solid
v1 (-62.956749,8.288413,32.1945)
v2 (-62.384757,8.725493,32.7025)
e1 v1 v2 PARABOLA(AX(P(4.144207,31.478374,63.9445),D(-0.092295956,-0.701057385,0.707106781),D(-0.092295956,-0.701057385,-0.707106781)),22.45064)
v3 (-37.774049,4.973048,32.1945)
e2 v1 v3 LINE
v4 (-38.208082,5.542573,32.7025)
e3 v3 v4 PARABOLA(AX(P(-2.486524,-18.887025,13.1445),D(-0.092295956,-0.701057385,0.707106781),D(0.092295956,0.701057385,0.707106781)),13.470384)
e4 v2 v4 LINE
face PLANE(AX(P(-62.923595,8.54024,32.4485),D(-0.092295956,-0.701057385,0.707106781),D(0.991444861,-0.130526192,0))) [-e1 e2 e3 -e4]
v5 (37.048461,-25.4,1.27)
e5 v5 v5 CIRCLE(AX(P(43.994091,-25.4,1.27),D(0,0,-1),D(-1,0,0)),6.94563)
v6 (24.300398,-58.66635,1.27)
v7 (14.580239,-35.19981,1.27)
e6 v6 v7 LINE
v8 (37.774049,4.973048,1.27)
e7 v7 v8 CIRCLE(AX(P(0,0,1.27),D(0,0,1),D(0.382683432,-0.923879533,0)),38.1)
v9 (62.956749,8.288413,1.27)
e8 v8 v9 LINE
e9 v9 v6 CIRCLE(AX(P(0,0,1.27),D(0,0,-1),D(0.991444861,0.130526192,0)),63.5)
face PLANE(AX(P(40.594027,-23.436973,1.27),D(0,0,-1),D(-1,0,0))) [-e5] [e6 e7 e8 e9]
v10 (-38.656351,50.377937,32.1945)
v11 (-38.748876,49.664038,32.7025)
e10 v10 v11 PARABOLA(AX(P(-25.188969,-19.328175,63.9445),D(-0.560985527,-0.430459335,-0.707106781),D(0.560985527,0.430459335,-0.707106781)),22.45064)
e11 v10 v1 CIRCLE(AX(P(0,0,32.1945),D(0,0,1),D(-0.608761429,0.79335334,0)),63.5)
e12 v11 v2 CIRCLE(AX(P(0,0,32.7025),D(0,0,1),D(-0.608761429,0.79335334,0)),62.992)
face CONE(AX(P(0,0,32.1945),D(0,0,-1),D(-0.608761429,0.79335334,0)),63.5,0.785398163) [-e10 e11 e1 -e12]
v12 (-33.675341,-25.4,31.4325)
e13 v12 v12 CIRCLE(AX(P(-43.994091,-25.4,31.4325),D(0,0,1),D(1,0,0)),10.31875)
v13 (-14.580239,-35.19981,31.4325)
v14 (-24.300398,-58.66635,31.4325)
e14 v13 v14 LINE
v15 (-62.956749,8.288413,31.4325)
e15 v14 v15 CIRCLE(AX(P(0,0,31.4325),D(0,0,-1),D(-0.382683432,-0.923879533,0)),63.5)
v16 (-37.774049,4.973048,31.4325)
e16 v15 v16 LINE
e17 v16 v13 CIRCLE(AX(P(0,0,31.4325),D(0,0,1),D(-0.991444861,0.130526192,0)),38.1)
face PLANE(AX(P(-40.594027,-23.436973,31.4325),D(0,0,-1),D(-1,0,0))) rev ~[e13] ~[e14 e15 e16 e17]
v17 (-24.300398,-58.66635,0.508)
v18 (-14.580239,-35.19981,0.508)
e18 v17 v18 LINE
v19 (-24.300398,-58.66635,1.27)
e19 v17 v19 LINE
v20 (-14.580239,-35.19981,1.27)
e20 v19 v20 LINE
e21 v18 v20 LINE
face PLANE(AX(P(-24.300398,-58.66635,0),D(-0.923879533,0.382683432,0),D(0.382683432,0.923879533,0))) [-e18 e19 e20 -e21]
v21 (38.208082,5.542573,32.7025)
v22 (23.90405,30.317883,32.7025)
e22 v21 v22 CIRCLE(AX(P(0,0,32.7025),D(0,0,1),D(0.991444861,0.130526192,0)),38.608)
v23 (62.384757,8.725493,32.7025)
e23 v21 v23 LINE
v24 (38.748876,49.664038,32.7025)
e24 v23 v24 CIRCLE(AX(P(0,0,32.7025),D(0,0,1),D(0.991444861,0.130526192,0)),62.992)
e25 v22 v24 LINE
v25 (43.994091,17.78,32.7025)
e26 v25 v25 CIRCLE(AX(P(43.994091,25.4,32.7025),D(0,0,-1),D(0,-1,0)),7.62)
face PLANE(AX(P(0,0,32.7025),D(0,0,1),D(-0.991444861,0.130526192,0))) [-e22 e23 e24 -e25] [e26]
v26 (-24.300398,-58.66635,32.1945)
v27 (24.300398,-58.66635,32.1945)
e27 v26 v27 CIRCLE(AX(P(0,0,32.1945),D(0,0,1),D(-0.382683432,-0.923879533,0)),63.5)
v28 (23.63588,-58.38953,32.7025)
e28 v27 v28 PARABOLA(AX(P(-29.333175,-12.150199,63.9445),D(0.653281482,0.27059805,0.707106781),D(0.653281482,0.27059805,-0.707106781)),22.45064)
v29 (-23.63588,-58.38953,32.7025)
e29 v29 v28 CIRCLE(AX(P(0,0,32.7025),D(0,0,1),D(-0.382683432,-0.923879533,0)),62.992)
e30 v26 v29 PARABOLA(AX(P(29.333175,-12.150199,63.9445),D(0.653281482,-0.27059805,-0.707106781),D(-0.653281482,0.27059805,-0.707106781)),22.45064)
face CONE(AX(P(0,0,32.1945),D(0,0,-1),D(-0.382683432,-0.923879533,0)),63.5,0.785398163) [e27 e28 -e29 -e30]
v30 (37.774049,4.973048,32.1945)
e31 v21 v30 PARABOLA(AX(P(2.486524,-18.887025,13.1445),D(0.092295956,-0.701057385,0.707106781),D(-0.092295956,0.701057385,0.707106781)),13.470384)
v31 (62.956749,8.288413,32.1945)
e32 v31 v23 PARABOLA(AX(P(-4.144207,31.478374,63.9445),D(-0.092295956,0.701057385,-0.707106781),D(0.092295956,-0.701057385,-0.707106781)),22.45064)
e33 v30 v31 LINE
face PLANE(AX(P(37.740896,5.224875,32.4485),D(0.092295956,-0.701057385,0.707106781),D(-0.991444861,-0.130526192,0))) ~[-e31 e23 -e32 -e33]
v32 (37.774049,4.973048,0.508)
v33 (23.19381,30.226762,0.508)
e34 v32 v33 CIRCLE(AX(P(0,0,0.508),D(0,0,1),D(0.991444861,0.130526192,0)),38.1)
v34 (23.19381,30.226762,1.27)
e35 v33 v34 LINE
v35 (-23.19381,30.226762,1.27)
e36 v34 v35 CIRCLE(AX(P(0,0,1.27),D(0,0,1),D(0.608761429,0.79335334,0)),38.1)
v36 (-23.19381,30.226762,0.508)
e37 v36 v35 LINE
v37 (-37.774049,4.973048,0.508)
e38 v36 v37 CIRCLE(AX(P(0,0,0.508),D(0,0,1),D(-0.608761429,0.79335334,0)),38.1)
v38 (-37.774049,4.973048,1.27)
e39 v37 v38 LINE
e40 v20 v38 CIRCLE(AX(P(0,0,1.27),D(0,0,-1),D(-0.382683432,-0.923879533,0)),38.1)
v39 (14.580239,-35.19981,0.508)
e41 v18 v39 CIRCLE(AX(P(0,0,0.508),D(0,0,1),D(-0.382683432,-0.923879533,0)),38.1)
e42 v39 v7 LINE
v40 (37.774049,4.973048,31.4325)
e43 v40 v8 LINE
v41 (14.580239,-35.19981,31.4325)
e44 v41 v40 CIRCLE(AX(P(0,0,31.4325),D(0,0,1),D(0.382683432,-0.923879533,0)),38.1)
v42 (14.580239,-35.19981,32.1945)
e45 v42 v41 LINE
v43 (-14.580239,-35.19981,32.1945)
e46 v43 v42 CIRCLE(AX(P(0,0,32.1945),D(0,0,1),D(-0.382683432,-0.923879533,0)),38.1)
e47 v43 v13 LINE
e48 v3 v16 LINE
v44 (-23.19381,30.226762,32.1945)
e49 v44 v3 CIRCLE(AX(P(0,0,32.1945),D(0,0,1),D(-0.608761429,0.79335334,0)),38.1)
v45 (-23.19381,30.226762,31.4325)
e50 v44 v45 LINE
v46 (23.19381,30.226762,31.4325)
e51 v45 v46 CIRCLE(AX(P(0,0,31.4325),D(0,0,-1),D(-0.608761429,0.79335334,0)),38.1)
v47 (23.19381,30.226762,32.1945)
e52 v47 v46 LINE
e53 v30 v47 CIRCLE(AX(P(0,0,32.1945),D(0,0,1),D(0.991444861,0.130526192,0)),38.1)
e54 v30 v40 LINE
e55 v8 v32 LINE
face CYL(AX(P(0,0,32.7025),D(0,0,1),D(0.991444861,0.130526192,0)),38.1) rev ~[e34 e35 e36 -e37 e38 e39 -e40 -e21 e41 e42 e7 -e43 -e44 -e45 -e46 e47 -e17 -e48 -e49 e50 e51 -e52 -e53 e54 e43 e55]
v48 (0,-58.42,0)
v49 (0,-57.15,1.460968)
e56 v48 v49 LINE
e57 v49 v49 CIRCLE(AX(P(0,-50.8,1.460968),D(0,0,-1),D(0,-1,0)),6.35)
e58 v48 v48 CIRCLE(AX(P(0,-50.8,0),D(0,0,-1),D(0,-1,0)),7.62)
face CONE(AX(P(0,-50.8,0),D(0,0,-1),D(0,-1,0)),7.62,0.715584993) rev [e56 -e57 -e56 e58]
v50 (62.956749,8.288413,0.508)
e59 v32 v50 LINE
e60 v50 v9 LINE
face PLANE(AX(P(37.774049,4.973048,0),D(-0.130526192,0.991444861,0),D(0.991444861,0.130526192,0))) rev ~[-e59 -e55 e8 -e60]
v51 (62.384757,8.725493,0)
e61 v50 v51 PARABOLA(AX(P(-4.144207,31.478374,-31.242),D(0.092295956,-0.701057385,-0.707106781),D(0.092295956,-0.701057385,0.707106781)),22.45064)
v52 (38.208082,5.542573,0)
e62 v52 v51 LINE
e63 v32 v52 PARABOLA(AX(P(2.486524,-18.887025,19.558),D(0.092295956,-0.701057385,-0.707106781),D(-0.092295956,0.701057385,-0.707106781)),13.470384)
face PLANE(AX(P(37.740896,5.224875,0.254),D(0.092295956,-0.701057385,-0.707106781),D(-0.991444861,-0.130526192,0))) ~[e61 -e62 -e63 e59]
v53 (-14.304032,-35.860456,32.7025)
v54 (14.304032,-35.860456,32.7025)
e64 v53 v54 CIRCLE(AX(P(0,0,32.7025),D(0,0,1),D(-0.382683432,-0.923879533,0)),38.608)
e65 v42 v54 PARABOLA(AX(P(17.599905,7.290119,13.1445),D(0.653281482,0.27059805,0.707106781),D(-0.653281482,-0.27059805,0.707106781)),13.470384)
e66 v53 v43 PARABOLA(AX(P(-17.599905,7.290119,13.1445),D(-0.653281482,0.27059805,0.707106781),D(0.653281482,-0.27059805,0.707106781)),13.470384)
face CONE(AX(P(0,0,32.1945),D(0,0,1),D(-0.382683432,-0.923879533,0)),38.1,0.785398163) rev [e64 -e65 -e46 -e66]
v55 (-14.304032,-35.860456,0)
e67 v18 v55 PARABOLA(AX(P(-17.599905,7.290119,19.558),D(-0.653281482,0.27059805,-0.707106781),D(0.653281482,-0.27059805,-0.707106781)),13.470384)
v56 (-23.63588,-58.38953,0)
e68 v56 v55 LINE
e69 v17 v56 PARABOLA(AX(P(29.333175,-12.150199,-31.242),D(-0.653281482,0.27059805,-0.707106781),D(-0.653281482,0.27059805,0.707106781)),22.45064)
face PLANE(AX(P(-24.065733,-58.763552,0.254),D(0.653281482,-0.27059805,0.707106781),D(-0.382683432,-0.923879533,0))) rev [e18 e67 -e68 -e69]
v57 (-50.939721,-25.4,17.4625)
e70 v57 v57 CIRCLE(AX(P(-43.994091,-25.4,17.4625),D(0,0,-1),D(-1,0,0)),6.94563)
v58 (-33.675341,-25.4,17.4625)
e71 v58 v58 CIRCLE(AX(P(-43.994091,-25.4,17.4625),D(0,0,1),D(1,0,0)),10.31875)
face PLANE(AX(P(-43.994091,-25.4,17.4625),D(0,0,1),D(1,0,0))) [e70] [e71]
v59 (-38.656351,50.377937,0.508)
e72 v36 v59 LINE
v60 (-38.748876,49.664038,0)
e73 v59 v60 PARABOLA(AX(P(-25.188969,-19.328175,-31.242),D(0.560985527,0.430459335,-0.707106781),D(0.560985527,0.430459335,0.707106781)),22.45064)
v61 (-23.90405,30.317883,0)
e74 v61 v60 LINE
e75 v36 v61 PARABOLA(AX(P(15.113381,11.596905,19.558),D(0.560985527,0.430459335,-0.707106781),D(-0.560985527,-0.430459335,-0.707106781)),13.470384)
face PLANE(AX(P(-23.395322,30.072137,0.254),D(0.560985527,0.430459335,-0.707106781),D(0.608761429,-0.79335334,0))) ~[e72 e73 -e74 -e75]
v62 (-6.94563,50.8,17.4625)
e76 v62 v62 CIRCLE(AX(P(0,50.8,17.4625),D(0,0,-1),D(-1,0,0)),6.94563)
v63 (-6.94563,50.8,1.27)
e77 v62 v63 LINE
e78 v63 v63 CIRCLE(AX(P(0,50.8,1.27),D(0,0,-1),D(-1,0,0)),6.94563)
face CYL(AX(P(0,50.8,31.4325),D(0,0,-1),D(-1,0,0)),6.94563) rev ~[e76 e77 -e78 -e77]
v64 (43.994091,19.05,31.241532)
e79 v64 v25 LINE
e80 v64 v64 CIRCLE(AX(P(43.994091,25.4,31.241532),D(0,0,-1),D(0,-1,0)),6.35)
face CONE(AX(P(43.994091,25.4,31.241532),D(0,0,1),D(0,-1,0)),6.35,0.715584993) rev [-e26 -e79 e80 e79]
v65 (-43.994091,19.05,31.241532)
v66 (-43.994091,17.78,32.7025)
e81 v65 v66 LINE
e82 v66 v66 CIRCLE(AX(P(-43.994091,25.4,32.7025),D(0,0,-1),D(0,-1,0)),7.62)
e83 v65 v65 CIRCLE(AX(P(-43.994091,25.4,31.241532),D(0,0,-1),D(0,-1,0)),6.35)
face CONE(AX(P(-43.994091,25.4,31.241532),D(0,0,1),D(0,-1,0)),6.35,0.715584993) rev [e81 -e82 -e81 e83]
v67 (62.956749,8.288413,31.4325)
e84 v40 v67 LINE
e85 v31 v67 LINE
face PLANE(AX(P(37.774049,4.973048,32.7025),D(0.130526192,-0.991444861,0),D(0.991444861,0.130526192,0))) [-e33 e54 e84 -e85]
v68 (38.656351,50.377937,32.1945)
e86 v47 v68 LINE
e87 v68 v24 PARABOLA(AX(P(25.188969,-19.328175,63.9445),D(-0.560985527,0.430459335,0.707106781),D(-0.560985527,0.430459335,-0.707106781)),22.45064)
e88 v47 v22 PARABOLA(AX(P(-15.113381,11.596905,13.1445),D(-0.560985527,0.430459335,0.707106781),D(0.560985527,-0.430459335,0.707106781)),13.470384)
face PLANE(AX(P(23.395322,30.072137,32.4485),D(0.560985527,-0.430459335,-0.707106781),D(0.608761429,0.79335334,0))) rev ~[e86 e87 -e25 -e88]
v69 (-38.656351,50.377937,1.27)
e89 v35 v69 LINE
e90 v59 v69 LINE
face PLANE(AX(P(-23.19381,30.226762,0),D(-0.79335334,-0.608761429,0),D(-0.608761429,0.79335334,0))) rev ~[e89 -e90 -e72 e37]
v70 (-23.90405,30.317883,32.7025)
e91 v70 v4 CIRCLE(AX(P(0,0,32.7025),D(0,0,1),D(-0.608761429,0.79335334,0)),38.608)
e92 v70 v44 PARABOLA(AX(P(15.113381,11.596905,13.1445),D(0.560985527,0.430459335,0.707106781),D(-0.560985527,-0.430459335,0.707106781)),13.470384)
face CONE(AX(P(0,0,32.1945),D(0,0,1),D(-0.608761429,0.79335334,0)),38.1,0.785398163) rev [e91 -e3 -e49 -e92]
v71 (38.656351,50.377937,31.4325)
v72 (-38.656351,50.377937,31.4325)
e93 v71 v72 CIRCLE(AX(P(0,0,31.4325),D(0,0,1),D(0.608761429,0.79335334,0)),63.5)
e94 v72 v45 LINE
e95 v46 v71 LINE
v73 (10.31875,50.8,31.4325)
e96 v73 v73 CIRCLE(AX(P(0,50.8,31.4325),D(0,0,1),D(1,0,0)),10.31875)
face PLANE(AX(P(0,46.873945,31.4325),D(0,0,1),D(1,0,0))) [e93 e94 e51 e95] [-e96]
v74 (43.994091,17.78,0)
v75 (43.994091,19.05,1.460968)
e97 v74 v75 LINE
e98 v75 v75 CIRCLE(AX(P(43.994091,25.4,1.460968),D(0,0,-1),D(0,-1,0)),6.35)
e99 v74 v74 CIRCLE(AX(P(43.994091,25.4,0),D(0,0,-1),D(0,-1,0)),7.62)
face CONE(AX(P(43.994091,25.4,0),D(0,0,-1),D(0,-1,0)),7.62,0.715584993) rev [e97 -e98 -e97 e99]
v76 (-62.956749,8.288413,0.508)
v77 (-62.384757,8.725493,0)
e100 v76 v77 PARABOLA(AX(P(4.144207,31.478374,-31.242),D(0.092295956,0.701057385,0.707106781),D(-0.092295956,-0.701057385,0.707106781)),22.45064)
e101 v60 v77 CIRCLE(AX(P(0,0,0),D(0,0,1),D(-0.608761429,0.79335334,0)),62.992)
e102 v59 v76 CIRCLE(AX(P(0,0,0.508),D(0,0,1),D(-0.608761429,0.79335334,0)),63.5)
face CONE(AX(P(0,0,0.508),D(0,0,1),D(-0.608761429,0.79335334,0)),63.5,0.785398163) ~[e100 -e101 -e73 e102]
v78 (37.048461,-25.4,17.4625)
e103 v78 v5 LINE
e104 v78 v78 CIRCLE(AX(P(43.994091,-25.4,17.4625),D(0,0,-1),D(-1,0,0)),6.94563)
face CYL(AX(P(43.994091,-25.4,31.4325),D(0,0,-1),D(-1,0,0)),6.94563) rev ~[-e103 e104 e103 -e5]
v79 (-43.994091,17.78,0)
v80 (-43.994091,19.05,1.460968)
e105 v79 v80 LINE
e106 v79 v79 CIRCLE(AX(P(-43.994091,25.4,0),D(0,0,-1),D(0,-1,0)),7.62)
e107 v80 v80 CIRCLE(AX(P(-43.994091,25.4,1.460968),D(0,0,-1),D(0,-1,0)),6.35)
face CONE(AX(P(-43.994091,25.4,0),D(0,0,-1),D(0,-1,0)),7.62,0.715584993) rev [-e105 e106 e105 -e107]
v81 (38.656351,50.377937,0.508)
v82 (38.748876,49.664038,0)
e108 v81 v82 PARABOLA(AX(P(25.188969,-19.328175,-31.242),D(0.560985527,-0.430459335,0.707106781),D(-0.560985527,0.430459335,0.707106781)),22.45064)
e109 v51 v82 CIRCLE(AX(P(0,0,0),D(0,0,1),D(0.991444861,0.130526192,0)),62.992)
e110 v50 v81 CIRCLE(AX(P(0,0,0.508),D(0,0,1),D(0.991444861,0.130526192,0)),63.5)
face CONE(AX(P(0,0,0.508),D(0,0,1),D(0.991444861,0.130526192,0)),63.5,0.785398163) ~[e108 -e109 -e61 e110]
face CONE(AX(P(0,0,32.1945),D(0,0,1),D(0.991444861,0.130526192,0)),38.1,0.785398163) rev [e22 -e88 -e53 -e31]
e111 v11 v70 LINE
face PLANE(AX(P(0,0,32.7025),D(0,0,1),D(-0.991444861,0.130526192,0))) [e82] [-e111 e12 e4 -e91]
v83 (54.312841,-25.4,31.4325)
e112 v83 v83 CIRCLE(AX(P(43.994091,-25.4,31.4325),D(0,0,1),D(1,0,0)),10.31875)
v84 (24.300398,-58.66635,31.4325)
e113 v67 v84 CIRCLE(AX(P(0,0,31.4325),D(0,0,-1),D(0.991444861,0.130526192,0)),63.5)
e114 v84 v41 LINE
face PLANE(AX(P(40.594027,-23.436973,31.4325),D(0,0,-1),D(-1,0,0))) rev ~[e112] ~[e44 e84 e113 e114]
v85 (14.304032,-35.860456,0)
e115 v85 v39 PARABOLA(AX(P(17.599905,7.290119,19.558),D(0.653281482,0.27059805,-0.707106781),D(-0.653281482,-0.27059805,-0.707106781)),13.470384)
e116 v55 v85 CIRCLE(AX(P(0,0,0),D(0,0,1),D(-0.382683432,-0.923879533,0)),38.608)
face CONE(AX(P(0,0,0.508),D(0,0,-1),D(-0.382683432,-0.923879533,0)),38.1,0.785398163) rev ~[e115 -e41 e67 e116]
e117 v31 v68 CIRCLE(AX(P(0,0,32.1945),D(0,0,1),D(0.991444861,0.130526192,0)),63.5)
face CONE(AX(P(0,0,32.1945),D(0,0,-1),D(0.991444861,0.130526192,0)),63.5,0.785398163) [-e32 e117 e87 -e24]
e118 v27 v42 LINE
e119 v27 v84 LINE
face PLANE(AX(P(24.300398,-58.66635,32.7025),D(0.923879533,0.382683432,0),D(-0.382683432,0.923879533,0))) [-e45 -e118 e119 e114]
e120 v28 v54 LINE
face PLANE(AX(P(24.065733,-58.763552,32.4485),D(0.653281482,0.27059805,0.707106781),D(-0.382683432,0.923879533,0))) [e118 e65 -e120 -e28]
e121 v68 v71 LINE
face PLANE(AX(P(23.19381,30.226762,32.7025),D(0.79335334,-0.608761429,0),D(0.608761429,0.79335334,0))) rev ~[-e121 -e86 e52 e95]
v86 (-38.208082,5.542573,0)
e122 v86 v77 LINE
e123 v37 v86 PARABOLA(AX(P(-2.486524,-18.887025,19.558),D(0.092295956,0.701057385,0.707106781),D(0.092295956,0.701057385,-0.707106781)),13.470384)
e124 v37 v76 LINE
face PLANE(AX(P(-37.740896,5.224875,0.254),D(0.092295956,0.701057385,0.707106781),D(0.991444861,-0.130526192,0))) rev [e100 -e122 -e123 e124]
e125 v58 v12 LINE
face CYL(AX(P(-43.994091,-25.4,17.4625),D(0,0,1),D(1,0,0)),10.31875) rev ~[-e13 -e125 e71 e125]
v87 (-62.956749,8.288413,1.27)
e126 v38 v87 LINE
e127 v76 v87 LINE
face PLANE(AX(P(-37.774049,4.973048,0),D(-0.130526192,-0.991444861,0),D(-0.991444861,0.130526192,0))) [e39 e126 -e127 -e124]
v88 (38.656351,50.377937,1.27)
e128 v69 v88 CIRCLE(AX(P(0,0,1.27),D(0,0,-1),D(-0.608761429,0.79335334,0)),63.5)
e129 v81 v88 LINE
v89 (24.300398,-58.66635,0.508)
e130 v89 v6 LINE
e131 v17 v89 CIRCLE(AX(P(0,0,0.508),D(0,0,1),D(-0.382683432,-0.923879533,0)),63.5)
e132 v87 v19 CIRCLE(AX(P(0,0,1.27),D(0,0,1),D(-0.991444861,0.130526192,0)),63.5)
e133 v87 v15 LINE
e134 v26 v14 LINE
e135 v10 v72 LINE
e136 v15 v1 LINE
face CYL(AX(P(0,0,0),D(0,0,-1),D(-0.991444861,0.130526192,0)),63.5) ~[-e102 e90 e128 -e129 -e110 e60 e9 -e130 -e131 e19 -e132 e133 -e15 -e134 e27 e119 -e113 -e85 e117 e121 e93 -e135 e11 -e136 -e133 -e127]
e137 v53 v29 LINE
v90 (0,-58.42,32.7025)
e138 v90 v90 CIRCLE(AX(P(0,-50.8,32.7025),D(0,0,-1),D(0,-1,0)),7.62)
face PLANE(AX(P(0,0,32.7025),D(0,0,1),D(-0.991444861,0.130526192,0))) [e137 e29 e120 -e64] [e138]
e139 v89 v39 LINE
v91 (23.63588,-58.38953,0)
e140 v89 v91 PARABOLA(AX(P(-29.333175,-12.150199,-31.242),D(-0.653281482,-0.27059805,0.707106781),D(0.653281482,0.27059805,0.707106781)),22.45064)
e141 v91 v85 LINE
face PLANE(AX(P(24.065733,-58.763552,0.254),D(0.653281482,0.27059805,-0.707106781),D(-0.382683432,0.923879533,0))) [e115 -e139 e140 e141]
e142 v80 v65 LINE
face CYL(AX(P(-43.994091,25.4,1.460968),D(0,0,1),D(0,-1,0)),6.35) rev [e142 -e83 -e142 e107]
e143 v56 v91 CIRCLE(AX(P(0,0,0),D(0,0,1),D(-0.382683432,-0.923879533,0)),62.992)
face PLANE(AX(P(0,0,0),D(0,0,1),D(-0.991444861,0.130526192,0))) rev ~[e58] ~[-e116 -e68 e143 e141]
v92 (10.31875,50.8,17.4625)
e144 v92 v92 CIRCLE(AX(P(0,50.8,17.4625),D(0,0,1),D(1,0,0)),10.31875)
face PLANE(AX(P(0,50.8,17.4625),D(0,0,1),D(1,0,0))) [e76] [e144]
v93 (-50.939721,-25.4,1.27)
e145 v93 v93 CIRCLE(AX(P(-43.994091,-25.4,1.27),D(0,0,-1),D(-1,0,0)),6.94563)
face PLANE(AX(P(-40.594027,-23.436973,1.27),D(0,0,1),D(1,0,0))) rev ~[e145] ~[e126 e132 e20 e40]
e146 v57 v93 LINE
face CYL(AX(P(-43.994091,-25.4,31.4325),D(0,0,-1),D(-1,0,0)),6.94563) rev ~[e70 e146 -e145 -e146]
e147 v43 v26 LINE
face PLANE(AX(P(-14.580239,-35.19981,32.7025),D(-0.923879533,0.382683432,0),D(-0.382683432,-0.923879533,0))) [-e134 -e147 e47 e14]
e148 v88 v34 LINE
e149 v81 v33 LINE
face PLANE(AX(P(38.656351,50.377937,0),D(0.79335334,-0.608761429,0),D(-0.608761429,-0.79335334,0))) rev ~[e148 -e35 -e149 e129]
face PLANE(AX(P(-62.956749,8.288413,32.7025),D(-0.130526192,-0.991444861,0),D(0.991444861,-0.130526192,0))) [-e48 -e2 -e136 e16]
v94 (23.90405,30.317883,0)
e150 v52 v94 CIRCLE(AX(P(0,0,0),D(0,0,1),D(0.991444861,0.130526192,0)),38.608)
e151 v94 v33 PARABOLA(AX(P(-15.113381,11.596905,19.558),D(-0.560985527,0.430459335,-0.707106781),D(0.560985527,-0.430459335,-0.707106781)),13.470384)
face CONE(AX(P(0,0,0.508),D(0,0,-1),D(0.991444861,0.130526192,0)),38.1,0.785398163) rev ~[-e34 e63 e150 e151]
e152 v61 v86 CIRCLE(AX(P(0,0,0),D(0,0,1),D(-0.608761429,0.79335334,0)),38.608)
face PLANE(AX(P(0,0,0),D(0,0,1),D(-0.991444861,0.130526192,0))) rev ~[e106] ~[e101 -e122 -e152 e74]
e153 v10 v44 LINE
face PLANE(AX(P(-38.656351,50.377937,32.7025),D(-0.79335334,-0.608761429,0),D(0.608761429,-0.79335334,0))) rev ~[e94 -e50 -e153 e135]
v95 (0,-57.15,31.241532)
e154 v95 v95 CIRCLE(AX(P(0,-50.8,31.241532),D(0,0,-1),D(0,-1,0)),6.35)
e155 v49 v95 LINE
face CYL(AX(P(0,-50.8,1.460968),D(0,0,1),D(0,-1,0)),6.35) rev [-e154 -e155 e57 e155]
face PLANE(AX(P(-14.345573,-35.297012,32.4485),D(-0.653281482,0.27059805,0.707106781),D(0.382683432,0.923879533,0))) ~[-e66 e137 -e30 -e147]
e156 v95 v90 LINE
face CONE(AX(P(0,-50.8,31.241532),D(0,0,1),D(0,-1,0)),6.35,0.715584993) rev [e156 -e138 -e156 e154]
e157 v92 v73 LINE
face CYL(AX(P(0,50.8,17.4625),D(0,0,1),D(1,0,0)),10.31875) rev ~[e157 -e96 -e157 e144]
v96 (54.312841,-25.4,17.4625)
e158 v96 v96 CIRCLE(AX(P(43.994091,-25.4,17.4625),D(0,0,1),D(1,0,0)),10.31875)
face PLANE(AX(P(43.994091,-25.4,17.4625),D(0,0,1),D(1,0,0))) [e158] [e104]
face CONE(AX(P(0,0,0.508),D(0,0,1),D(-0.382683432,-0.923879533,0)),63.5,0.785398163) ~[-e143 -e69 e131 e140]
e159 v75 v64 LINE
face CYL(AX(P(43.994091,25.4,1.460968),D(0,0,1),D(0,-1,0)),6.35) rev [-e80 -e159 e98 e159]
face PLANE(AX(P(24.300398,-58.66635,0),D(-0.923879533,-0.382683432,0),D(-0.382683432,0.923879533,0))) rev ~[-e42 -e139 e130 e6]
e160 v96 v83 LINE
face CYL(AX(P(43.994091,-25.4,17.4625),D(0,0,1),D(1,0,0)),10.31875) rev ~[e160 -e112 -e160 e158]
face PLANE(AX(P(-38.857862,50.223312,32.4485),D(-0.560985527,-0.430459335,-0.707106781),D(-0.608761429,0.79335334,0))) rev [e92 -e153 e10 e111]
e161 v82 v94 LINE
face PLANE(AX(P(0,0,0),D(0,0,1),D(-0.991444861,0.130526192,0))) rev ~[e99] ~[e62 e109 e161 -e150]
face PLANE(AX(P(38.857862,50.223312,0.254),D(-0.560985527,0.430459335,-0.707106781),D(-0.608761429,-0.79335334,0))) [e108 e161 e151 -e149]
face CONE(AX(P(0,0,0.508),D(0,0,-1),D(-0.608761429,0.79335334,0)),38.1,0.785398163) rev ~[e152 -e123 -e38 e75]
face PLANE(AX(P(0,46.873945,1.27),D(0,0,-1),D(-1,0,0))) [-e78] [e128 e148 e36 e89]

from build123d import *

# Parameters (mm, degrees)
SKETCH1_R                                        = 63.5
EXTRUDE1_DEPTH                                   = 32.7025
SKETCH2_R                                        = 38.1
CUT_EXTRUDE1_DEPTH                               = 33.7025
CUT_EXTRUDE2_DEPTH                               = 1.27
CUT_EXTRUDE3_DEPTH                               = 1.27
CBORE_FOR_1_2_SOCKET_HEAD_CAP_SCREW1_D           = 13.89126
CBORE_FOR_1_2_SOCKET_HEAD_CAP_SCREW1_CBORE_D     = 20.6375
CBORE_FOR_1_2_SOCKET_HEAD_CAP_SCREW1_CBORE_DEPTH = 13.97
F_1_2_20_TAPPED_HOLE1_AT_2_COUNT                 = 2
F_1_2_20_TAPPED_HOLE1_AT_2_PITCH                 = 87.988181024
F_1_2_20_TAPPED_HOLE1_AT_3_COUNT                 = 2
F_1_2_20_TAPPED_HOLE1_AT_3_PITCH                 = 87.988181024
CHAMFER1_SIZE                                    = 0.508


with BuildPart() as part:
    # Sketch1 → Extrude1 (new body)
    with BuildSketch(Plane.XY):
        with Locations(Location((0, 0, 0), (0, 0, 172.5))):  # turned: the seam where the file's is
            Circle(SKETCH1_R)
    extrude(amount=EXTRUDE1_DEPTH)

    # Sketch2 → Cut-Extrude1 (cut, through all)
    with BuildSketch(Plane.XY.offset(32.7025)):
        with Locations(Location((0, 0, 0), (0, 0, 7.5))):  # turned: the seam where the file's is
            Circle(SKETCH2_R)
    extrude(amount=-CUT_EXTRUDE1_DEPTH, mode=Mode.SUBTRACT)

    # Sketch3 → Cut-Extrude2 (cut)
    with BuildSketch(Plane.XY.offset(32.7025)):
        with BuildLine():
            Line((-38.656350742, 50.377937108), (-23.193810445, 30.226762265))
            ThreePointArc((-23.193810445, 30.226762265), (0, 38.1), (23.193810445, 30.226762265))
            Line((23.193810445, 30.226762265), (38.656350742, 50.377937108))
            ThreePointArc((38.656350742, 50.377937108), (0, 63.5), (-38.656350742, 50.377937108))
        make_face()
        with BuildLine():
            Line((-62.956748697, 8.288413206), (-37.774049218, 4.973047924))
            ThreePointArc((-37.774049218, 4.973047924), (-32.995567884, -19.05), (-14.580238773, -35.199810189))
            Line((-14.580238773, -35.199810189), (-24.300397955, -58.666350314))
            ThreePointArc((-24.300397955, -58.666350314), (-54.99261314, -31.75), (-62.956748697, 8.288413206))
        make_face()
        with BuildLine():
            Line((24.300397955, -58.666350314), (14.580238773, -35.199810189))
            ThreePointArc((14.580238773, -35.199810189), (32.995567884, -19.05), (37.774049218, 4.973047924))
            Line((37.774049218, 4.973047924), (62.956748697, 8.288413206))
            ThreePointArc((62.956748697, 8.288413206), (54.99261314, -31.75), (24.300397955, -58.666350314))
        make_face()
    extrude(amount=-CUT_EXTRUDE2_DEPTH, mode=Mode.SUBTRACT)

    # Sketch4 → Cut-Extrude3 (cut)
    with BuildSketch(Plane(origin=(0, 0, 0), x_dir=(-1, 0, 0), z_dir=(0, 0, -1))):
        with BuildLine():
            Line((24.300397955, -58.666350314), (14.580238773, -35.199810189))
            ThreePointArc((14.580238773, -35.199810189), (32.995567884, -19.05), (37.774049218, 4.973047924))
            Line((37.774049218, 4.973047924), (62.956748697, 8.288413206))
            ThreePointArc((62.956748697, 8.288413206), (54.99261314, -31.75), (24.300397955, -58.666350314))
        make_face()
        with BuildLine():
            Line((-24.300397955, -58.666350314), (-14.580238773, -35.199810189))
            ThreePointArc((-14.580238773, -35.199810189), (-32.995567884, -19.05), (-37.774049218, 4.973047924))
            Line((-37.774049218, 4.973047924), (-62.956748697, 8.288413206))
            ThreePointArc((-62.956748697, 8.288413206), (-54.99261314, -31.75), (-24.300397955, -58.666350314))
        make_face()
        with BuildLine():
            Line((-38.656350742, 50.377937108), (-23.193810445, 30.226762265))
            ThreePointArc((-23.193810445, 30.226762265), (0, 38.1), (23.193810445, 30.226762265))
            Line((23.193810445, 30.226762265), (38.656350742, 50.377937108))
            ThreePointArc((38.656350742, 50.377937108), (0, 63.5), (-38.656350742, 50.377937108))
        make_face()
    extrude(amount=-CUT_EXTRUDE3_DEPTH, mode=Mode.SUBTRACT)

    # CBORE for 1_2 Socket Head Cap Screw1 (through all)
    with Locations(Plane.XY.offset(31.4325)):
        with Locations((-43.994090512, -25.4), (0, 50.8), (43.994090512, -25.4)):
            CounterBoreHole(CBORE_FOR_1_2_SOCKET_HEAD_CAP_SCREW1_D / 2, CBORE_FOR_1_2_SOCKET_HEAD_CAP_SCREW1_CBORE_D / 2, CBORE_FOR_1_2_SOCKET_HEAD_CAP_SCREW1_CBORE_DEPTH)

    # Sketch9 → 1_2-20 Tapped Hole1 (revolve, cut)
    with BuildSketch(Plane(origin=(0, -50.8, 32.7025), x_dir=(0, -1, 0), z_dir=(1, 0, 0))):
        Polygon((0, 0), (0, 32.7025), (7.62, 32.7025), (6.35, 31.241532123), (6.35, 1.460967877), (7.62, 0), align=None)
    f_1_2_20_tapped_hole1 = revolve(axis=Axis((0, -50.8, 39.0525), (0, 0, -1)), mode=Mode.SUBTRACT)

    # 1_2-20 Tapped Hole1 at 2: 1_2-20 Tapped Hole1 ×2
    with Locations(*[Vector(-0.5, 0.866025404, 0) * (i * F_1_2_20_TAPPED_HOLE1_AT_2_PITCH) for i in range(1, F_1_2_20_TAPPED_HOLE1_AT_2_COUNT)]):
        add(f_1_2_20_tapped_hole1, mode=Mode.SUBTRACT)

    # 1_2-20 Tapped Hole1 at 3: 1_2-20 Tapped Hole1 ×2
    with Locations(*[Vector(0.5, 0.866025404, 0) * (i * F_1_2_20_TAPPED_HOLE1_AT_3_PITCH) for i in range(1, F_1_2_20_TAPPED_HOLE1_AT_3_COUNT)]):
        add(f_1_2_20_tapped_hole1, mode=Mode.SUBTRACT)

    # Chamfer1
    chamfer1_edges = [part.edges().sort_by_distance(p)[0] for p in [
        (-54.99261314, 31.75, 32.7025),
        (54.99261314, 31.75, 32.7025),
        (0, -63.5, 32.7025),
        (0, -63.5, 0),
        (54.99261314, 31.75, 0),
        (-54.99261314, 31.75, 0),
        (-50.365398958, 6.630730565, 0),
        (-50.365398958, 6.630730565, 32.7025),
        (-30.925080594, 40.302349687, 32.7025),
        (-32.995567884, 19.05, 32.7025),
        (30.925080594, 40.302349687, 32.7025),
        (50.365398958, 6.630730565, 32.7025),
        (32.995567884, 19.05, 32.7025),
        (19.440318364, -46.933080252, 32.7025),
        (-19.440318364, -46.933080252, 32.7025),
        (0, -38.1, 32.7025),
        (-19.440318364, -46.933080252, 0),
        (0, -38.1, 0),
        (19.440318364, -46.933080252, 0),
        (50.365398958, 6.630730565, 0),
        (30.925080594, 40.302349687, 0),
        (32.995567884, 19.05, 0),
        (-30.925080594, 40.302349687, 0),
        (-32.995567884, 19.05, 0),
    ]]
    chamfer(chamfer1_edges, length=CHAMFER1_SIZE)


solid = part.part
